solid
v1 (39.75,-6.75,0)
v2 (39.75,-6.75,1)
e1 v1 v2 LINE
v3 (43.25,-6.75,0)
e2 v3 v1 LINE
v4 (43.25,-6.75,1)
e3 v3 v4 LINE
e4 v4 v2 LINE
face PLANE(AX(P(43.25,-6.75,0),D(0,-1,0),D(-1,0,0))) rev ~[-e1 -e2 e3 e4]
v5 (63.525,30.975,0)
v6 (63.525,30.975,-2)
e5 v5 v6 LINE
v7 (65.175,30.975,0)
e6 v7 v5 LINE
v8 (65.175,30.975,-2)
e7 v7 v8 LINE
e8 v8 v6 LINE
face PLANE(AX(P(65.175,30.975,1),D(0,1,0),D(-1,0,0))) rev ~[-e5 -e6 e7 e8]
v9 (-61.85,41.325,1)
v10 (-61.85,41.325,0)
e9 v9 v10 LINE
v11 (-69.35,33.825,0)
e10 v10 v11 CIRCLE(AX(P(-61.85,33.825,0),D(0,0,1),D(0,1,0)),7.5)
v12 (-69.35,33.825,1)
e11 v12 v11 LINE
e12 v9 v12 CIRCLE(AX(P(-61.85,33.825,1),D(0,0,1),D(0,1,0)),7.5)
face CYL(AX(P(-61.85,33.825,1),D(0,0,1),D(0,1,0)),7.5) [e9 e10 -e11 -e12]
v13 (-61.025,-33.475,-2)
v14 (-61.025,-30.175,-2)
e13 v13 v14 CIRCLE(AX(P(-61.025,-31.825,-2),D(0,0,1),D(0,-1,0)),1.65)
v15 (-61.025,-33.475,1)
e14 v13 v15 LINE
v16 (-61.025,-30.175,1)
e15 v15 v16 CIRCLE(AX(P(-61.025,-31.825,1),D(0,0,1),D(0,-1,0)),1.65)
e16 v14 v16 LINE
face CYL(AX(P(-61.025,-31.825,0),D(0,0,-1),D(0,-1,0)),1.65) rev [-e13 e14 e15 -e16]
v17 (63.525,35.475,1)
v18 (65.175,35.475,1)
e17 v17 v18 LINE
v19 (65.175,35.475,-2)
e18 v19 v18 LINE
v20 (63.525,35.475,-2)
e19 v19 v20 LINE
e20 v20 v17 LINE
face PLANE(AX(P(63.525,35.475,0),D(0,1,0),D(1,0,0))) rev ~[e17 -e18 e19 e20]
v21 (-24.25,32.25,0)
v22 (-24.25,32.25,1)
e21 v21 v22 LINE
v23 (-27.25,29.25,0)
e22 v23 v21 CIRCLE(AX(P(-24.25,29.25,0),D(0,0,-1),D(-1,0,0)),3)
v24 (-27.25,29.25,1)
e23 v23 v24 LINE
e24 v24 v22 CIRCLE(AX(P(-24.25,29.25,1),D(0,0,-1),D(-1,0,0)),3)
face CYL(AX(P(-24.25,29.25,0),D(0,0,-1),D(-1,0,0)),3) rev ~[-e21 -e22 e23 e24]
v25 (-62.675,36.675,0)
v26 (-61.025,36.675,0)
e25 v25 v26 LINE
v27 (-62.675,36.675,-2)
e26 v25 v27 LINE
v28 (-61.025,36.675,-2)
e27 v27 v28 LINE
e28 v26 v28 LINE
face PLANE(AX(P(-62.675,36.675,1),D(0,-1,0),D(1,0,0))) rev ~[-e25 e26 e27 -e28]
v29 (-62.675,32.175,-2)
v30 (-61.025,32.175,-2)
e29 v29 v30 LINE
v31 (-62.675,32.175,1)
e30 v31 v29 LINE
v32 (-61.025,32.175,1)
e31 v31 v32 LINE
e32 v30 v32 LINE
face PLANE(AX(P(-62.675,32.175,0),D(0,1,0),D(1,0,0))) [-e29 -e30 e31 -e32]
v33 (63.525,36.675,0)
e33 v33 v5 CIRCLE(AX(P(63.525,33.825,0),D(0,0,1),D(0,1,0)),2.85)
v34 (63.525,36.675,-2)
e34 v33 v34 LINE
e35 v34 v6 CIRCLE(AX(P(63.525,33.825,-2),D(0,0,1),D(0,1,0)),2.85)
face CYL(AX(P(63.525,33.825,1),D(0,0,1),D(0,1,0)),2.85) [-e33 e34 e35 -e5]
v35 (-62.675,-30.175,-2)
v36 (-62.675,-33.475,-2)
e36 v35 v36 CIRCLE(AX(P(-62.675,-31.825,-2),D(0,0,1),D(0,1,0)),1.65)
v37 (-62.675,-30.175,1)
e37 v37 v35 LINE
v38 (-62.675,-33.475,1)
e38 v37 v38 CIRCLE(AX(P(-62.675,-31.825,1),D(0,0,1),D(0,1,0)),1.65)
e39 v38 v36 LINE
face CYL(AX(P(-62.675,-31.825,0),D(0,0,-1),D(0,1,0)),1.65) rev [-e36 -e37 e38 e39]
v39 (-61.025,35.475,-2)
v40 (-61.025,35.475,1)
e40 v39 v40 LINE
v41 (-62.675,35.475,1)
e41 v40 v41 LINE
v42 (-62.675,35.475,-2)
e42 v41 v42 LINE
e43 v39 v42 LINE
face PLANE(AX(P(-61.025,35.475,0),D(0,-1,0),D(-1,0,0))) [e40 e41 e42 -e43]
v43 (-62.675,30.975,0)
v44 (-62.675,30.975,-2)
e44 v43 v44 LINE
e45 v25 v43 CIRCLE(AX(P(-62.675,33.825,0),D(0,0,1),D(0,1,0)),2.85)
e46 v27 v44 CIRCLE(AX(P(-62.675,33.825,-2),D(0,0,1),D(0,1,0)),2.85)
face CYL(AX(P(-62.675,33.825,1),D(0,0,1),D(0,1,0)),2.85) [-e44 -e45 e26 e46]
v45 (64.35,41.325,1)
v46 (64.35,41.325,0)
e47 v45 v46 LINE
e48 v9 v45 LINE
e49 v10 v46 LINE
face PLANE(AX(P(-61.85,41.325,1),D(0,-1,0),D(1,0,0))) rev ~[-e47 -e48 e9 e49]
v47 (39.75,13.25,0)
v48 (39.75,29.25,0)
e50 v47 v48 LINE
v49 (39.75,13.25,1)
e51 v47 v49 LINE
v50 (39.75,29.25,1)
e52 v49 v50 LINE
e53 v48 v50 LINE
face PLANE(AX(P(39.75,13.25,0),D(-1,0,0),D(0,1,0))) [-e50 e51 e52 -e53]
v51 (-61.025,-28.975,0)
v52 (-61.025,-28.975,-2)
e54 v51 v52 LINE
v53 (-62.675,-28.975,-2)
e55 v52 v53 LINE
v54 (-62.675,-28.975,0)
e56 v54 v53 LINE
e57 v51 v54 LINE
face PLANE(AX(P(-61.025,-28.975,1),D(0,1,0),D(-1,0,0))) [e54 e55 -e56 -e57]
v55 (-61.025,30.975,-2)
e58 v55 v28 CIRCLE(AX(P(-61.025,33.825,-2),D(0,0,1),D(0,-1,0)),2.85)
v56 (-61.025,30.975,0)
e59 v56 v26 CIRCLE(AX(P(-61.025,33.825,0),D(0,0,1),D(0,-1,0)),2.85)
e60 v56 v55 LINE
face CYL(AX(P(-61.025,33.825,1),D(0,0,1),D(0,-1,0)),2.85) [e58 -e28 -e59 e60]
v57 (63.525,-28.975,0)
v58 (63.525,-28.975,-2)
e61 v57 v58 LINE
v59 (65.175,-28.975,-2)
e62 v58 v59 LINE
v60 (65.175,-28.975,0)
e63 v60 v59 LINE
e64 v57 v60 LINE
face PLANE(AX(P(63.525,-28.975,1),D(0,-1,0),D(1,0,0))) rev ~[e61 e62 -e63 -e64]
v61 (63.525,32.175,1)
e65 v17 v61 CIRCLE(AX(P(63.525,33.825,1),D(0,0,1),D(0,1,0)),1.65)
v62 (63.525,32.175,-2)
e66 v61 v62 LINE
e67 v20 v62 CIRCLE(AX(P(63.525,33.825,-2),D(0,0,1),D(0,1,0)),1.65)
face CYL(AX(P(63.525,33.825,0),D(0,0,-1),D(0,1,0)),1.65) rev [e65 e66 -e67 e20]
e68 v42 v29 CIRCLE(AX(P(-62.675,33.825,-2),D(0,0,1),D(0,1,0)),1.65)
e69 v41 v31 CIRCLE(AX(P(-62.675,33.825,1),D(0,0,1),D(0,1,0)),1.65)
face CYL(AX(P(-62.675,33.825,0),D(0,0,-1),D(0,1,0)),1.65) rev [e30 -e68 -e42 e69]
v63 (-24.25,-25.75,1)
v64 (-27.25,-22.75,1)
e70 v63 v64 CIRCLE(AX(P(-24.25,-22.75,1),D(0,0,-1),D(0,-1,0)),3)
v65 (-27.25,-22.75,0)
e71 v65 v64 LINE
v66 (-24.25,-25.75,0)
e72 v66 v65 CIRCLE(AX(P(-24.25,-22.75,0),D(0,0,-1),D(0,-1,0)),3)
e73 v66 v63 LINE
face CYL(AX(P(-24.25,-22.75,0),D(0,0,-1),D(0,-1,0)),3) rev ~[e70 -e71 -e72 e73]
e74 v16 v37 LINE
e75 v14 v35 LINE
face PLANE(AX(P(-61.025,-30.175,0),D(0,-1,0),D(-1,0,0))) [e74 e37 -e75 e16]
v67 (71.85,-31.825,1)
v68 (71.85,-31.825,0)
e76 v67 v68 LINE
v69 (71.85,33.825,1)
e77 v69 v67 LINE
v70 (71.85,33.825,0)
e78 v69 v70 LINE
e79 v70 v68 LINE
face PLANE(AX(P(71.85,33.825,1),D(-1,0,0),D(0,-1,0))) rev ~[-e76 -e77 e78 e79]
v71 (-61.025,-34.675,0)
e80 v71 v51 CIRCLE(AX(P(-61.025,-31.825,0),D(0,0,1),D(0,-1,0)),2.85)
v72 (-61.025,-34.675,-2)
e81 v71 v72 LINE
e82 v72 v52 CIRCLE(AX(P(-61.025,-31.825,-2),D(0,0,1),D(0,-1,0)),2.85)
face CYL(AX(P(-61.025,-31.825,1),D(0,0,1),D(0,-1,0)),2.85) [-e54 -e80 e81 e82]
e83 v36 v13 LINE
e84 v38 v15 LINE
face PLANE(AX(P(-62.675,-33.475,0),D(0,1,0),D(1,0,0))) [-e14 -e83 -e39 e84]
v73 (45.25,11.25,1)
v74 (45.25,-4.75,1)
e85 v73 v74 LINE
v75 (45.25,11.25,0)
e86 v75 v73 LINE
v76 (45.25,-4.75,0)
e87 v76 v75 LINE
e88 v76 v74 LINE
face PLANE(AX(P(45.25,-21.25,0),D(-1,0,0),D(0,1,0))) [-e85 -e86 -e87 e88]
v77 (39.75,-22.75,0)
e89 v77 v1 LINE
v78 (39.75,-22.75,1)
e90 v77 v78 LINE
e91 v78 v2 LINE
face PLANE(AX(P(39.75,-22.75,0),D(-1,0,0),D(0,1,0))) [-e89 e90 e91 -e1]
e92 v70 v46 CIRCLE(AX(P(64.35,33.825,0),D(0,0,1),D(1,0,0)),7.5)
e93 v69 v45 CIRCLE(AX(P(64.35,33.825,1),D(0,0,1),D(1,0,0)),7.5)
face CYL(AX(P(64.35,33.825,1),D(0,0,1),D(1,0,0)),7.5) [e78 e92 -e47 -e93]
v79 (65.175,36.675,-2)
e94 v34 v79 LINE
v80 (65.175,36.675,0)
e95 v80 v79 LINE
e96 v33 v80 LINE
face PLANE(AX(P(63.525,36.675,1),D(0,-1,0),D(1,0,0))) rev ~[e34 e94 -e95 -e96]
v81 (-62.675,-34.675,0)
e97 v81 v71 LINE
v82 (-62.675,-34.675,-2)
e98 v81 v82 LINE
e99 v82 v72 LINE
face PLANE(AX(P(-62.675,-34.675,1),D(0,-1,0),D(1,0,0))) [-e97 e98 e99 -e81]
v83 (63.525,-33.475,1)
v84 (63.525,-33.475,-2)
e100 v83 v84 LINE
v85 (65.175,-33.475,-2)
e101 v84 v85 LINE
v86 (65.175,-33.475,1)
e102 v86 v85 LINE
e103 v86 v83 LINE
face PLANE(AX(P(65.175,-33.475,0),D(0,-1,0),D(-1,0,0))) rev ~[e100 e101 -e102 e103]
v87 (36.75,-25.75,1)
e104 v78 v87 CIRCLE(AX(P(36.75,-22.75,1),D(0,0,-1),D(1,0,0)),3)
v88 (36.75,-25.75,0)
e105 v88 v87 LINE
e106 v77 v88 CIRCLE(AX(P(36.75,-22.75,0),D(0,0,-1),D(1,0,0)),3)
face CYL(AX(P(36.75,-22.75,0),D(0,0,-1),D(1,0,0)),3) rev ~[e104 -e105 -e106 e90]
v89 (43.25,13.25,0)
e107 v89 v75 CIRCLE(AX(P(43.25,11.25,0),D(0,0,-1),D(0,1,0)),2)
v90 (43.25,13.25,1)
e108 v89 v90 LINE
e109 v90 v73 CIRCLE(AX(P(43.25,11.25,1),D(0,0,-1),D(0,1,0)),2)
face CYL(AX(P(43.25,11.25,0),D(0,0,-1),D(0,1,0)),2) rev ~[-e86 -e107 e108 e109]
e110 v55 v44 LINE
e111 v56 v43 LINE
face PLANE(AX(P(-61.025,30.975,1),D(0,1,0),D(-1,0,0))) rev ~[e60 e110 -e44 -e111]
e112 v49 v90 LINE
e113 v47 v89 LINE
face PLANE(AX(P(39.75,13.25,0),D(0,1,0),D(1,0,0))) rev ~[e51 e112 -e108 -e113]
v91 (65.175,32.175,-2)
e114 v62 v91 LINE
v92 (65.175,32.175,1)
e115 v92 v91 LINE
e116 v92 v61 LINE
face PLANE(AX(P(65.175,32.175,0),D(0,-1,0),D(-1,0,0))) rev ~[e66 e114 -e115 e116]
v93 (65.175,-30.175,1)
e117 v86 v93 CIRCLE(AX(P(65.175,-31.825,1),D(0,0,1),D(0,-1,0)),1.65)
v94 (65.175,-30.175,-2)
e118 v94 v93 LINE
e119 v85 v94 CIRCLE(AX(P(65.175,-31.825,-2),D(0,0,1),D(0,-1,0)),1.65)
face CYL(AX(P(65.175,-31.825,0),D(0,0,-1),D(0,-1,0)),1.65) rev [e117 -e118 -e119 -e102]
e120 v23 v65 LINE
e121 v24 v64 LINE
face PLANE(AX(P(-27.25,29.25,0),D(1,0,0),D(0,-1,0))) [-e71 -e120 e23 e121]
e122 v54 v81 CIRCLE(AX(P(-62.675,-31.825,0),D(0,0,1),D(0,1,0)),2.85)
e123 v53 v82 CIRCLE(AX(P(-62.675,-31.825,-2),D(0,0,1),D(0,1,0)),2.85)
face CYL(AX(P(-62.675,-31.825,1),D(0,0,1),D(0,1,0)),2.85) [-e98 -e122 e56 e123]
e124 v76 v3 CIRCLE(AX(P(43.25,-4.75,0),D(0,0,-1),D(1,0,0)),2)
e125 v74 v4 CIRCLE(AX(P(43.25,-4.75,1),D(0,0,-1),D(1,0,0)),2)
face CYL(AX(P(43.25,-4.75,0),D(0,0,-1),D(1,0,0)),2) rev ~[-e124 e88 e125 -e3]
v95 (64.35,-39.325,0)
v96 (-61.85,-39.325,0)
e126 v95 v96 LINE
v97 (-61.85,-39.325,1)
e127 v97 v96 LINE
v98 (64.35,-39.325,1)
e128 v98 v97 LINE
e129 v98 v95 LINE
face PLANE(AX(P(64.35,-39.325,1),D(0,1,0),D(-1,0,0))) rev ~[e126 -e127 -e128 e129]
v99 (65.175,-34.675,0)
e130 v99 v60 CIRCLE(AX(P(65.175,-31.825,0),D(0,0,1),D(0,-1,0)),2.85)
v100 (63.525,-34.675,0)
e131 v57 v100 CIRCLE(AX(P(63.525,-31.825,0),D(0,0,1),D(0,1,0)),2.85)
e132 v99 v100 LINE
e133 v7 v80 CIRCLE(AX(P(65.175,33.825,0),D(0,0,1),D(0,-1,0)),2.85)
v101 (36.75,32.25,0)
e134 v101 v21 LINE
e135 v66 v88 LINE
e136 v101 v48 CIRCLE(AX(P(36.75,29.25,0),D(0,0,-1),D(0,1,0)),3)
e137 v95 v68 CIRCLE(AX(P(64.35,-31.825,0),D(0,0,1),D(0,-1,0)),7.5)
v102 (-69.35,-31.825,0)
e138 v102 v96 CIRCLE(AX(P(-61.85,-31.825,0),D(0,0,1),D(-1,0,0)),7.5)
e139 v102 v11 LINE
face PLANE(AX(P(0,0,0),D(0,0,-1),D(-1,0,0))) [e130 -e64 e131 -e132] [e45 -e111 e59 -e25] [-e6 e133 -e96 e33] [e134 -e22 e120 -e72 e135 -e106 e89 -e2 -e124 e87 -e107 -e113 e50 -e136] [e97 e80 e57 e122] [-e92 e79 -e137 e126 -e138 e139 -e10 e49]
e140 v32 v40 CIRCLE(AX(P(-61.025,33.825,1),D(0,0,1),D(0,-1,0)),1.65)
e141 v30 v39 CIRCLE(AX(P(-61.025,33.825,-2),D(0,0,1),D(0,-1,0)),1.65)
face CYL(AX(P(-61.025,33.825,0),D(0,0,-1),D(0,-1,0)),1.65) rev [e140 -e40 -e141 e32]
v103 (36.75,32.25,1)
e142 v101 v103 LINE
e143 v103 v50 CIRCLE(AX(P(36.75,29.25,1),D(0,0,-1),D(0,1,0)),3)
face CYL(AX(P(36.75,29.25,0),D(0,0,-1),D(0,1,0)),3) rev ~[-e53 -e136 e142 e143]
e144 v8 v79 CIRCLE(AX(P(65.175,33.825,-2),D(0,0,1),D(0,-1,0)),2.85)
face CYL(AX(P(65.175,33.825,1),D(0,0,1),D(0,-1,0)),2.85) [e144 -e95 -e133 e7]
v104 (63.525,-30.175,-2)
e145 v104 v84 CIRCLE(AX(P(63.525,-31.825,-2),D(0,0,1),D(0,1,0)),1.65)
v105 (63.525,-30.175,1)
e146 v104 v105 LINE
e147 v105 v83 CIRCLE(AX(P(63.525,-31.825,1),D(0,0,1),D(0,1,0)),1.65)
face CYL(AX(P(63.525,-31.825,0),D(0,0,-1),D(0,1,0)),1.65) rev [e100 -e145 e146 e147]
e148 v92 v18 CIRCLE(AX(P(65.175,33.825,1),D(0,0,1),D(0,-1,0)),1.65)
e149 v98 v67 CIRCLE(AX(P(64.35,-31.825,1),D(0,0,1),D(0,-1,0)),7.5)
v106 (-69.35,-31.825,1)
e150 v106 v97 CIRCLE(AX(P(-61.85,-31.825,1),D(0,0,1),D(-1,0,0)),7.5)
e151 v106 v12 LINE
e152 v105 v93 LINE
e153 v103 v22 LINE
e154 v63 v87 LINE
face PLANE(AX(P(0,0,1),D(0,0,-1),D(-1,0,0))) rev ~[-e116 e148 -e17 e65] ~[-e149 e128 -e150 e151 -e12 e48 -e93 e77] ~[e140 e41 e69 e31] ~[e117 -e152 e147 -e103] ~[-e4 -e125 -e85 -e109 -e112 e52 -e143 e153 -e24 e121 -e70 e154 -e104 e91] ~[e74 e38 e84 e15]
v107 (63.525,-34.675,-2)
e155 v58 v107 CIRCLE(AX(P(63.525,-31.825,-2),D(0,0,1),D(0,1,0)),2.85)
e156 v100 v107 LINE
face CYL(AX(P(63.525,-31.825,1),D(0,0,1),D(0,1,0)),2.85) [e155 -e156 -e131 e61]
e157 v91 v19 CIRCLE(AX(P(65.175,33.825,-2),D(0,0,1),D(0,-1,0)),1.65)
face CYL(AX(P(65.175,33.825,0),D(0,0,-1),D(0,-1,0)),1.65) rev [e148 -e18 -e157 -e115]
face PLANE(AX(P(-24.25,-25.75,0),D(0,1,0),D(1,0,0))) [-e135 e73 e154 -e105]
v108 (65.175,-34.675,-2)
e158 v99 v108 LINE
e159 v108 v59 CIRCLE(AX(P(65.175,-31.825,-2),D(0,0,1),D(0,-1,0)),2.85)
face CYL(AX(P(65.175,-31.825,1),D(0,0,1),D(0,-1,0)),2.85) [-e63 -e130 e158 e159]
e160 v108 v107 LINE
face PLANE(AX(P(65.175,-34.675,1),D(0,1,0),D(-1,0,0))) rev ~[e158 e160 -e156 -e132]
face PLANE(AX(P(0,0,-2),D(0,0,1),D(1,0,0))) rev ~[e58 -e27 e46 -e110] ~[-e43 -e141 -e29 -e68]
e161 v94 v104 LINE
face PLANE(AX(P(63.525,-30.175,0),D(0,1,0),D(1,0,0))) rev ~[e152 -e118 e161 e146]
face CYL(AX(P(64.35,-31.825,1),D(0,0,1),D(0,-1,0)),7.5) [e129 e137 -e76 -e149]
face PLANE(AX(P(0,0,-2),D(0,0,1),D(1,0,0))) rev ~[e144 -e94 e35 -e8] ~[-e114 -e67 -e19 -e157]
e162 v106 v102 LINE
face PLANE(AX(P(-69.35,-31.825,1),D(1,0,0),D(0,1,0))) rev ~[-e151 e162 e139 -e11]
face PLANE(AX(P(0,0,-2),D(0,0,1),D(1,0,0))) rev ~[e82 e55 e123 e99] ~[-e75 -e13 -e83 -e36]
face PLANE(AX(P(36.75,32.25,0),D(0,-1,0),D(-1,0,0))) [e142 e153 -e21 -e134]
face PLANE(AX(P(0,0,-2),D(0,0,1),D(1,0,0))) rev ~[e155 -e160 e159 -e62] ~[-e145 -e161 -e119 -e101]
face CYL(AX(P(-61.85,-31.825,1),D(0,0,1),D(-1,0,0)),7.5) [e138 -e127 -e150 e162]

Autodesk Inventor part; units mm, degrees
ref_plane "YZ Plane" through (0, 0, 0) normal (1, 0, 0) x (0, 1, 0)
ref_plane "XZ Plane" through (0, 0, 0) normal (0, 1, 0) x (-1, 0, 0)
ref_plane "XY Plane" through (0, 0, 0) normal (0, 0, 1) x (1, 0, 0)
sketch "Sketch1" plane through (0, 0, 0) normal (0, 0, 1) x (1, 0, 0)
  line L0 (-88.6, 55.18) -> (88.6, 55.18)
  line L1 (96.28, 47.5) -> (96.28, -47.5)
  line L2 (88.6, -55.18) -> (-88.6, -55.18)
  line L3 (-96.28, -47.5) -> (-96.28, 47.5)
  arc A0 (-96.28, -47.5) -> (-88.6, -55.18) centre (-88.6, -47.5) ccw
  arc A1 (88.6, -55.18) -> (96.28, -47.5) centre (88.6, -47.5) ccw
  arc A2 (96.28, 47.5) -> (88.6, 55.18) centre (88.6, 47.5) ccw
  arc A3 (-88.6, 55.18) -> (-96.28, 47.5) centre (-88.6, 47.5) ccw
  line L4 (85, 52.5) -> (-85, 52.5)
  line L5 (-85, 52.5) -> (-85, -52.5)
  line L6 (-85, -52.5) -> (85, -52.5)
  line L7 (85, -52.5) -> (85, 52.5)
  line L8 (85, 52.5) -> (-85, -52.5) construction
  line L9 (-85, 52.5) -> (85, -52.5) construction
  line L10 (0, -55.18) -> (0, 55.18) construction
  line L11 (-96.28, 0) -> (96.28, 0) construction
  line L12 (88.6, -47.5) -> (-88.6, -47.5) construction
  line L13 (-88.6, -47.5) -> (-88.6, 47.5) construction
  line L14 (-88.6, 47.5) -> (88.6, 47.5) construction
  line L15 (88.6, 47.5) -> (88.6, -47.5) construction
  line L16 (-92.28, -50) -> (-92.28, 50)
  line L17 (-92.28, -50) -> (-85, -50)
  line L18 (-92.28, 50) -> (-85, 50)
  line L19 (64.35, -31.825) -> (64.35, 33.825) construction
  line L20 (64.35, 33.825) -> (-61.85, 33.825) construction
  line L21 (-61.85, 33.825) -> (-61.85, -31.825) construction
  line L22 (-61.85, -31.825) -> (64.35, -31.825) construction
  line L23 (-61.85, 33.825) -> (64.35, -31.825) construction
  line L24 (-61.85, -31.825) -> (64.35, 33.825) construction
  line L25 (1.25, 0) -> (1.25, 1) construction
  line L26 (1.25, 1) -> (0, 1) construction
  line L27 (63.525, -31.825) -> (65.175, -31.825) construction
  line L28 (63.525, -30.175) -> (65.175, -30.175)
  line L29 (65.175, -33.475) -> (63.525, -33.475)
  arc A4 (63.525, -30.175) -> (63.525, -33.475) centre (63.525, -31.825) ccw
  arc A5 (65.175, -33.475) -> (65.175, -30.175) centre (65.175, -31.825) ccw
  line L30 (63.525, 33.825) -> (65.175, 33.825) construction
  line L31 (63.525, 35.475) -> (65.175, 35.475)
  line L32 (65.175, 32.175) -> (63.525, 32.175)
  arc A6 (63.525, 35.475) -> (63.525, 32.175) centre (63.525, 33.825) ccw
  arc A7 (65.175, 32.175) -> (65.175, 35.475) centre (65.175, 33.825) ccw
  line L33 (-61.025, 33.825) -> (-62.675, 33.825) construction
  line L34 (-61.025, 35.475) -> (-62.675, 35.475)
  line L35 (-62.675, 32.175) -> (-61.025, 32.175)
  arc A8 (-61.025, 32.175) -> (-61.025, 35.475) centre (-61.025, 33.825) ccw
  arc A9 (-62.675, 35.475) -> (-62.675, 32.175) centre (-62.675, 33.825) ccw
  line L36 (-61.025, -31.825) -> (-62.675, -31.825) construction
  line L37 (-61.025, -30.175) -> (-62.675, -30.175)
  line L38 (-62.675, -33.475) -> (-61.025, -33.475)
  arc A10 (-61.025, -33.475) -> (-61.025, -30.175) centre (-61.025, -31.825) ccw
  arc A11 (-62.675, -30.175) -> (-62.675, -33.475) centre (-62.675, -31.825) ccw
  line L39 (98.28, -57.18) -> (-98.28, -57.18)
  line L40 (-98.28, -57.18) -> (-98.28, 57.18)
  line L41 (-98.28, 57.18) -> (98.28, 57.18)
  line L42 (98.28, 57.18) -> (98.28, -57.18)
  line L43 (98.28, -57.18) -> (-98.28, 57.18) construction
  line L44 (-98.28, -57.18) -> (98.28, 57.18) construction
  line L45 (-69.85, 27.075) -> (-53.85, 27.075)
  line L46 (-53.85, 27.075) -> (-53.85, 40.575)
  line L47 (-53.85, 40.575) -> (-69.85, 40.575)
  line L48 (-69.85, 40.575) -> (-69.85, 27.075)
  line L49 (-69.85, 27.075) -> (-53.85, 40.575) construction
  line L50 (-53.85, 27.075) -> (-69.85, 40.575) construction
  line L51 (-53.85, -38.575) -> (-69.85, -38.575)
  line L52 (-69.85, -38.575) -> (-69.85, -25.075)
  line L53 (-69.85, -25.075) -> (-53.85, -25.075)
  line L54 (-53.85, -25.075) -> (-53.85, -38.575)
  line L55 (-53.85, -38.575) -> (-69.85, -25.075) construction
  line L56 (-69.85, -38.575) -> (-53.85, -25.075) construction
  line L57 (56.35, -38.575) -> (72.35, -38.575)
  line L58 (72.35, -38.575) -> (72.35, -25.075)
  line L59 (72.35, -25.075) -> (56.35, -25.075)
  line L60 (56.35, -25.075) -> (56.35, -38.575)
  line L61 (56.35, -38.575) -> (72.35, -25.075) construction
  line L62 (72.35, -38.575) -> (56.35, -25.075) construction
  line L63 (72.35, 40.575) -> (56.35, 40.575)
  line L64 (56.35, 40.575) -> (56.35, 27.075)
  line L65 (56.35, 27.075) -> (72.35, 27.075)
  line L66 (72.35, 27.075) -> (72.35, 40.575)
  line L67 (72.35, 40.575) -> (56.35, 27.075) construction
  line L68 (56.35, 40.575) -> (72.35, 27.075) construction
  line L69 (-22.75, -21.25) -> (35.25, -21.25) construction
  line L70 (35.25, -21.25) -> (35.25, 27.75) construction
  line L71 (35.25, 27.75) -> (-22.75, 27.75) construction
  line L72 (-22.75, 27.75) -> (-22.75, -21.25) construction
  line L73 (-22.75, -21.25) -> (35.25, 27.75) construction
  line L74 (35.25, -21.25) -> (-22.75, 27.75) construction
  line L75 (-22.75, -31.25) -> (35.25, -31.25)
  line L76 (45.25, -21.25) -> (45.25, 27.75)
  line L77 (35.25, 37.75) -> (-22.75, 37.75)
  line L78 (-32.75, 27.75) -> (-32.75, -21.25)
  line L79 (-32.75, -31.25) -> (45.25, 37.75) construction
  line L80 (45.25, -31.25) -> (-32.75, 37.75) construction
  arc A12 (-22.75, 37.75) -> (-32.75, 27.75) centre (-22.75, 27.75) ccw
  arc A13 (-32.75, -21.25) -> (-22.75, -31.25) centre (-22.75, -21.25) ccw
  arc A14 (35.25, -31.25) -> (45.25, -21.25) centre (35.25, -21.25) ccw
  arc A15 (45.25, 27.75) -> (35.25, 37.75) centre (35.25, 27.75) ccw
  line L81 (59.25, 16.75) -> (59.25, -10.25)
  line L82 (59.25, -10.25) -> (45.25, -10.25)
  line L83 (45.25, 16.75) -> (59.25, 16.75)
  line L84 (59.25, 3.25) -> (6.25, 3.25) construction
  line L85 (-17.5, -52.7) -> (-17.5, -31.25)
  line L86 (-17.5, -52.7) -> (17.5, -52.7)
  line L87 (17.5, -52.7) -> (17.5, -31.25)
  line L88 (0, 0) -> (0, -52.7) construction
  point P0 (0, 0)
  point P1 (0, 0)
  point P2 (0, -60)
  point P3 (-64.35, 17.825)
  point P4 (-64.35, 14.525)
  point P5 (61.85, 17.825)
  point P6 (61.85, 14.525)
  point P7 (61.85, 83.475)
  point P8 (61.85, 80.175)
  point P9 (-64.35, 80.175)
  point P10 (-64.35, 83.475)
  point P11 (0, -52.5)
  point P12 (0, 0)
  point P13 (0, 0)
  point P14 (-92.28, 0)
  point P15 (0, 0)
  point P16 (1.25, 1)
  point P17 (204.35, 170.6447)
  point P18 (204.35, 167.7053)
  point P19 (0, 0)
  dimension "d0" = 7.68
  dimension "d1" = 170
  dimension "d2" = 105
  dimension "d3" = 177.2
  dimension "d4" = 95
  dimension "d5" = 100
  dimension "d6" = 4
  dimension "d7" = 65.65
  dimension "d8" = 126.2
  dimension "d9" = 1.25
  dimension "d10" = 1
  dimension "d11" = 1.65
  dimension "d12" = 3.3
  dimension "d13" = 60
  dimension "d14" = 2
  dimension "d15" = 2
  dimension "d16" = 13.5
  dimension "d17" = 16
  dimension "d18" = 58
  dimension "d19" = 49
  dimension "d20" = 3.25
  dimension "d21" = 10
  dimension "d22" = 53
  dimension "d23" = 27
  dimension "d24" = 6.25
  dimension "d25" = 0.2
  dimension "d26" = 35
extrude "Extrusion1" add sketch "Sketch1" along normal blind 1 contours L7 L6 L87 L75 A14 L76 L82 L81 L83 A15 L77 A12 L78 A13 L85 L5 L4 | L6 L85 L75 L87 | L76 L83 L81 L82 | L48 L47 L46 L45 | L51 L52 L53 L54 | L60 L59 L58 L57 | L66 L65 L64 L63
sketch "Sketch2" plane through (0, 0, 1) normal (0, 0, 1) x (1, 0, 0)
  arc A0 (65.175, 32.175) -> (65.175, 35.475) centre (65.175, 33.825) ccw projected
  line L0 (65.175, 35.475) -> (63.525, 35.475) projected
  arc A1 (63.525, 35.475) -> (63.525, 32.175) centre (63.525, 33.825) ccw projected
  line L1 (63.525, 32.175) -> (65.175, 32.175) projected
  arc A2 (35.25, -31.25) -> (45.25, -21.25) centre (35.25, -21.25) ccw projected
  line L2 (45.25, -21.25) -> (45.25, 27.75) projected
  arc A3 (45.25, 27.75) -> (35.25, 37.75) centre (35.25, 27.75) ccw projected
  line L3 (35.25, 37.75) -> (-22.75, 37.75) projected
  arc A4 (-22.75, 37.75) -> (-32.75, 27.75) centre (-22.75, 27.75) ccw projected
  line L4 (-32.75, 27.75) -> (-32.75, -21.25) projected
  arc A5 (-32.75, -21.25) -> (-22.75, -31.25) centre (-22.75, -21.25) ccw projected
  line L5 (-22.75, -31.25) -> (35.25, -31.25) projected
  arc A6 (65.175, -33.475) -> (65.175, -30.175) centre (65.175, -31.825) ccw projected
  line L6 (65.175, -30.175) -> (63.525, -30.175) projected
  arc A7 (63.525, -30.175) -> (63.525, -33.475) centre (63.525, -31.825) ccw projected
  line L7 (63.525, -33.475) -> (65.175, -33.475) projected
  line L8 (-61.025, -30.175) -> (-62.675, -30.175) projected
  arc A8 (-62.675, -30.175) -> (-62.675, -33.475) centre (-62.675, -31.825) ccw projected
  line L9 (-62.675, -33.475) -> (-61.025, -33.475) projected
  arc A9 (-61.025, -33.475) -> (-61.025, -30.175) centre (-61.025, -31.825) ccw projected
  line L10 (-61.025, 35.475) -> (-62.675, 35.475) projected
  arc A10 (-62.675, 35.475) -> (-62.675, 32.175) centre (-62.675, 33.825) ccw projected
  line L11 (-62.675, 32.175) -> (-61.025, 32.175) projected
  arc A11 (-61.025, 32.175) -> (-61.025, 35.475) centre (-61.025, 33.825) ccw projected
  line L12 (85, -52.5) -> (-85, -52.5) projected
  line L13 (-85, -52.5) -> (-85, 52.5) projected
  line L14 (-85, 52.5) -> (85, 52.5) projected
  line L15 (85, 52.5) -> (85, -52.5) projected
  line L16 (63.525, 33.825) -> (65.175, 33.825) construction
  line L17 (-62.675, -31.825) -> (-61.025, -31.825) construction
  line L18 (64.35, -39.325) -> (-61.85, -39.325)
  line L19 (-69.35, -31.825) -> (-69.35, 33.825)
  line L20 (-61.85, 41.325) -> (64.35, 41.325)
  line L21 (71.85, 33.825) -> (71.85, -31.825)
  line L22 (71.85, -39.325) -> (-69.35, 41.325) construction
  line L23 (-69.35, -39.325) -> (71.85, 41.325) construction
  arc A12 (71.85, 33.825) -> (64.35, 41.325) centre (64.35, 33.825) ccw
  arc A13 (-61.85, 41.325) -> (-69.35, 33.825) centre (-61.85, 33.825) ccw
  arc A14 (-69.35, -31.825) -> (-61.85, -39.325) centre (-61.85, -31.825) ccw
  arc A15 (64.35, -39.325) -> (71.85, -31.825) centre (64.35, -31.825) ccw
  point P0 (0, 0)
  point P1 (1.25, 1)
  point P2 (-61.85, -31.825)
  dimension "d29" = 7.5
extrude "Extrusion2" cut sketch "Sketch2" against normal through all contours L18 A14 L19 A13 L20 A12 L21 A15 keep common part
sketch "Sketch3" plane through (0, 0, 1) normal (0, 0, 1) x (1, 0, 0)
  arc A0 (64.35, -39.325) -> (71.85, -31.825) centre (64.35, -31.825) ccw projected
  line L0 (64.35, -39.325) -> (-61.85, -39.325) projected
  arc A1 (-69.35, -31.825) -> (-61.85, -39.325) centre (-61.85, -31.825) ccw projected
  line L1 (-69.35, -31.825) -> (-69.35, 33.825) projected
  arc A2 (-61.85, 41.325) -> (-69.35, 33.825) centre (-61.85, 33.825) ccw projected
  line L2 (-61.85, 41.325) -> (64.35, 41.325) projected
  arc A3 (71.85, 33.825) -> (64.35, 41.325) centre (64.35, 33.825) ccw projected
  line L3 (71.85, 33.825) -> (71.85, -31.825) projected
  arc A4 (65.175, 32.175) -> (65.175, 35.475) centre (65.175, 33.825) ccw projected
  line L4 (65.175, 35.475) -> (63.525, 35.475) projected
  arc A5 (63.525, 35.475) -> (63.525, 32.175) centre (63.525, 33.825) ccw projected
  line L5 (63.525, 32.175) -> (65.175, 32.175) projected
  arc A6 (35.25, -31.25) -> (45.25, -21.25) centre (35.25, -21.25) ccw projected
  line L6 (45.25, -21.25) -> (45.25, 27.75) projected
  arc A7 (45.25, 27.75) -> (35.25, 37.75) centre (35.25, 27.75) ccw projected
  line L7 (35.25, 37.75) -> (-22.75, 37.75) projected
  arc A8 (-22.75, 37.75) -> (-32.75, 27.75) centre (-22.75, 27.75) ccw projected
  line L8 (-32.75, 27.75) -> (-32.75, -21.25) projected
  arc A9 (-32.75, -21.25) -> (-22.75, -31.25) centre (-22.75, -21.25) ccw projected
  line L9 (-22.75, -31.25) -> (35.25, -31.25) projected
  arc A10 (65.175, -33.475) -> (65.175, -30.175) centre (65.175, -31.825) ccw projected
  line L10 (65.175, -30.175) -> (63.525, -30.175) projected
  arc A11 (63.525, -30.175) -> (63.525, -33.475) centre (63.525, -31.825) ccw projected
  line L11 (63.525, -33.475) -> (65.175, -33.475) projected
  line L12 (-61.025, -30.175) -> (-62.675, -30.175) projected
  arc A12 (-62.675, -30.175) -> (-62.675, -33.475) centre (-62.675, -31.825) ccw projected
  line L13 (-62.675, -33.475) -> (-61.025, -33.475) projected
  arc A13 (-61.025, -33.475) -> (-61.025, -30.175) centre (-61.025, -31.825) ccw projected
  line L14 (-61.025, 35.475) -> (-62.675, 35.475) projected
  arc A14 (-62.675, 35.475) -> (-62.675, 32.175) centre (-62.675, 33.825) ccw projected
  line L15 (-62.675, 32.175) -> (-61.025, 32.175) projected
  arc A15 (-61.025, 32.175) -> (-61.025, 35.475) centre (-61.025, 33.825) ccw projected
  line L16 (-61.025, 30.975) -> (-62.675, 30.975)
  arc A16 (-62.675, 36.675) -> (-62.675, 30.975) centre (-62.675, 33.825) ccw
  line L17 (-62.675, 36.675) -> (-61.025, 36.675)
  arc A17 (-61.025, 30.975) -> (-61.025, 36.675) centre (-61.025, 33.825) ccw
  arc A18 (65.175, 30.975) -> (65.175, 36.675) centre (65.175, 33.825) ccw
  line L18 (65.175, 30.975) -> (63.525, 30.975)
  arc A19 (63.525, 36.675) -> (63.525, 30.975) centre (63.525, 33.825) ccw
  line L19 (63.525, 36.675) -> (65.175, 36.675)
  arc A20 (65.175, -34.675) -> (65.175, -28.975) centre (65.175, -31.825) ccw
  line L20 (65.175, -34.675) -> (63.525, -34.675)
  arc A21 (63.525, -28.975) -> (63.525, -34.675) centre (63.525, -31.825) ccw
  line L21 (63.525, -28.975) -> (65.175, -28.975)
  line L22 (-61.025, -28.975) -> (-62.675, -28.975)
  arc A22 (-62.675, -28.975) -> (-62.675, -34.675) centre (-62.675, -31.825) ccw
  line L23 (-62.675, -34.675) -> (-61.025, -34.675)
  arc A23 (-61.025, -34.675) -> (-61.025, -28.975) centre (-61.025, -31.825) ccw
  point P0 (0, 0)
  dimension "d32" = 5.7
extrude "Extrusion3" add sketch "Sketch3" against normal blind 3 contours L16 A16 L17 A17 | L18 A19 L19 A18 | L20 A21 L21 A20 | A23 L23 A22 L22
sketch "Sketch4" plane through (0, 0, 0) normal (0, 0, -1) x (-1, 0, 0)
  line L0 (-65.175, -28.975) -> (-63.525, -28.975) projected
  arc A0 (-63.525, -34.675) -> (-63.525, -28.975) centre (-63.525, -31.825) ccw projected
  line L1 (-63.525, -34.675) -> (-65.175, -34.675) projected
  arc A1 (-65.175, -28.975) -> (-65.175, -34.675) centre (-65.175, -31.825) ccw projected
  line L2 (-65.175, 36.675) -> (-63.525, 36.675) projected
  arc A2 (-63.525, 30.975) -> (-63.525, 36.675) centre (-63.525, 33.825) ccw projected
  line L3 (-63.525, 30.975) -> (-65.175, 30.975) projected
  arc A3 (-65.175, 36.675) -> (-65.175, 30.975) centre (-65.175, 33.825) ccw projected
  arc A4 (61.025, -28.975) -> (61.025, -34.675) centre (61.025, -31.825) ccw projected
  line L4 (61.025, -28.975) -> (62.675, -28.975) projected
  arc A5 (62.675, -34.675) -> (62.675, -28.975) centre (62.675, -31.825) ccw projected
  line L5 (62.675, -34.675) -> (61.025, -34.675) projected
  line L6 (61.025, 36.675) -> (62.675, 36.675) projected
  arc A6 (62.675, 30.975) -> (62.675, 36.675) centre (62.675, 33.825) ccw projected
  line L7 (62.675, 30.975) -> (61.025, 30.975) projected
  arc A7 (61.025, 36.675) -> (61.025, 30.975) centre (61.025, 33.825) ccw projected
  arc A8 (-71.85, -31.825) -> (-64.35, -39.325) centre (-64.35, -31.825) ccw projected
  line L8 (-71.85, -31.825) -> (-71.85, 33.825) projected
  arc A9 (-64.35, 41.325) -> (-71.85, 33.825) centre (-64.35, 33.825) ccw projected
  line L9 (-64.35, 41.325) -> (61.85, 41.325) projected
  arc A10 (69.35, 33.825) -> (61.85, 41.325) centre (61.85, 33.825) ccw projected
  line L10 (69.35, 33.825) -> (69.35, -31.825) projected
  arc A11 (61.85, -39.325) -> (69.35, -31.825) centre (61.85, -31.825) ccw projected
  line L11 (61.85, -39.325) -> (-64.35, -39.325) projected
  arc A12 (-65.175, 35.475) -> (-65.175, 32.175) centre (-65.175, 33.825) ccw projected
  line L12 (-65.175, 32.175) -> (-63.525, 32.175) projected
  arc A13 (-63.525, 32.175) -> (-63.525, 35.475) centre (-63.525, 33.825) ccw projected
  line L13 (-63.525, 35.475) -> (-65.175, 35.475) projected
  arc A14 (-45.25, -21.25) -> (-35.25, -31.25) centre (-35.25, -21.25) ccw projected
  line L14 (-35.25, -31.25) -> (22.75, -31.25) projected
  arc A15 (22.75, -31.25) -> (32.75, -21.25) centre (22.75, -21.25) ccw projected
  line L15 (32.75, -21.25) -> (32.75, 27.75) projected
  arc A16 (32.75, 27.75) -> (22.75, 37.75) centre (22.75, 27.75) ccw projected
  line L16 (22.75, 37.75) -> (-35.25, 37.75) projected
  arc A17 (-35.25, 37.75) -> (-45.25, 27.75) centre (-35.25, 27.75) ccw projected
  line L17 (-45.25, 27.75) -> (-45.25, -21.25) projected
  arc A18 (-65.175, -30.175) -> (-65.175, -33.475) centre (-65.175, -31.825) ccw projected
  line L18 (-65.175, -33.475) -> (-63.525, -33.475) projected
  arc A19 (-63.525, -33.475) -> (-63.525, -30.175) centre (-63.525, -31.825) ccw projected
  line L19 (-63.525, -30.175) -> (-65.175, -30.175) projected
  line L20 (62.675, -30.175) -> (61.025, -30.175) projected
  arc A20 (61.025, -30.175) -> (61.025, -33.475) centre (61.025, -31.825) ccw projected
  line L21 (61.025, -33.475) -> (62.675, -33.475) projected
  arc A21 (62.675, -33.475) -> (62.675, -30.175) centre (62.675, -31.825) ccw projected
  line L22 (62.675, 35.475) -> (61.025, 35.475) projected
  arc A22 (61.025, 35.475) -> (61.025, 32.175) centre (61.025, 33.825) ccw projected
  line L23 (61.025, 32.175) -> (62.675, 32.175) projected
  arc A23 (62.675, 32.175) -> (62.675, 35.475) centre (62.675, 33.825) ccw projected
  line L24 (24.25, -25.75) -> (-36.75, -25.75)
  line L25 (-39.75, -22.75) -> (-39.75, 29.25)
  line L26 (-36.75, 32.25) -> (24.25, 32.25)
  line L27 (27.25, 29.25) -> (27.25, -22.75)
  line L28 (27.25, -25.75) -> (-39.75, 32.25) construction
  line L29 (-39.75, -25.75) -> (27.25, 32.25) construction
  arc A24 (-36.75, 32.25) -> (-39.75, 29.25) centre (-36.75, 29.25) ccw
  arc A25 (27.25, 29.25) -> (24.25, 32.25) centre (24.25, 29.25) ccw
  arc A26 (24.25, -25.75) -> (27.25, -22.75) centre (24.25, -22.75) ccw
  arc A27 (-39.75, -22.75) -> (-36.75, -25.75) centre (-36.75, -22.75) ccw
  line L30 (22.75, -21.25) -> (-35.25, -21.25) construction
  line L31 (-35.25, -21.25) -> (-35.25, 27.75) construction
  line L32 (-35.25, 27.75) -> (22.75, 27.75) construction
  line L33 (22.75, 27.75) -> (22.75, -21.25) construction
  line L34 (22.75, -21.25) -> (-35.25, 27.75) construction
  line L35 (-35.25, -21.25) -> (22.75, 27.75) construction
  line L36 (24.25, -22.75) -> (-36.75, -22.75) construction
  line L37 (-36.75, -22.75) -> (-36.75, 29.25) construction
  line L38 (-36.75, 29.25) -> (24.25, 29.25) construction
  line L39 (24.25, 29.25) -> (24.25, -22.75) construction
  line L40 (24.25, -22.75) -> (-36.75, 29.25) construction
  line L41 (-36.75, -22.75) -> (24.25, 29.25) construction
  line L42 (-39.75, 13.25) -> (-43.25, 13.25)
  line L43 (-6.25, 3.25) -> (-45.25, 3.25) construction
  line L44 (-43.25, -6.75) -> (-39.75, -6.75)
  line L45 (-45.25, 11.25) -> (-45.25, -4.75)
  arc A28 (-43.25, 13.25) -> (-45.25, 11.25) centre (-43.25, 11.25) ccw
  arc A29 (-45.25, -4.75) -> (-43.25, -6.75) centre (-43.25, -4.75) ccw
  line L46 (-45.25, 27.75) -> (-45.25, -21.25) projected
  point P0 (0, 0)
  point P1 (-6.25, 3.25)
  point P2 (-45.25, 13.25)
  point P3 (-45.25, -6.75)
  dimension "d35" = 3
  dimension "d36" = 1.5
  dimension "d37" = 1.5
  dimension "d40" = 2
  dimension "d41" = 20
extrude "Extrusion4" add sketch "Sketch4" against normal up to surface (1 mm away) contours L17 A29 L44 L25 A27 L24 A26 L27 A25 L26 A24 L42 A28 A17 L16 A16 L15 A15 L14 A14
properties part number "Navi base plate"
